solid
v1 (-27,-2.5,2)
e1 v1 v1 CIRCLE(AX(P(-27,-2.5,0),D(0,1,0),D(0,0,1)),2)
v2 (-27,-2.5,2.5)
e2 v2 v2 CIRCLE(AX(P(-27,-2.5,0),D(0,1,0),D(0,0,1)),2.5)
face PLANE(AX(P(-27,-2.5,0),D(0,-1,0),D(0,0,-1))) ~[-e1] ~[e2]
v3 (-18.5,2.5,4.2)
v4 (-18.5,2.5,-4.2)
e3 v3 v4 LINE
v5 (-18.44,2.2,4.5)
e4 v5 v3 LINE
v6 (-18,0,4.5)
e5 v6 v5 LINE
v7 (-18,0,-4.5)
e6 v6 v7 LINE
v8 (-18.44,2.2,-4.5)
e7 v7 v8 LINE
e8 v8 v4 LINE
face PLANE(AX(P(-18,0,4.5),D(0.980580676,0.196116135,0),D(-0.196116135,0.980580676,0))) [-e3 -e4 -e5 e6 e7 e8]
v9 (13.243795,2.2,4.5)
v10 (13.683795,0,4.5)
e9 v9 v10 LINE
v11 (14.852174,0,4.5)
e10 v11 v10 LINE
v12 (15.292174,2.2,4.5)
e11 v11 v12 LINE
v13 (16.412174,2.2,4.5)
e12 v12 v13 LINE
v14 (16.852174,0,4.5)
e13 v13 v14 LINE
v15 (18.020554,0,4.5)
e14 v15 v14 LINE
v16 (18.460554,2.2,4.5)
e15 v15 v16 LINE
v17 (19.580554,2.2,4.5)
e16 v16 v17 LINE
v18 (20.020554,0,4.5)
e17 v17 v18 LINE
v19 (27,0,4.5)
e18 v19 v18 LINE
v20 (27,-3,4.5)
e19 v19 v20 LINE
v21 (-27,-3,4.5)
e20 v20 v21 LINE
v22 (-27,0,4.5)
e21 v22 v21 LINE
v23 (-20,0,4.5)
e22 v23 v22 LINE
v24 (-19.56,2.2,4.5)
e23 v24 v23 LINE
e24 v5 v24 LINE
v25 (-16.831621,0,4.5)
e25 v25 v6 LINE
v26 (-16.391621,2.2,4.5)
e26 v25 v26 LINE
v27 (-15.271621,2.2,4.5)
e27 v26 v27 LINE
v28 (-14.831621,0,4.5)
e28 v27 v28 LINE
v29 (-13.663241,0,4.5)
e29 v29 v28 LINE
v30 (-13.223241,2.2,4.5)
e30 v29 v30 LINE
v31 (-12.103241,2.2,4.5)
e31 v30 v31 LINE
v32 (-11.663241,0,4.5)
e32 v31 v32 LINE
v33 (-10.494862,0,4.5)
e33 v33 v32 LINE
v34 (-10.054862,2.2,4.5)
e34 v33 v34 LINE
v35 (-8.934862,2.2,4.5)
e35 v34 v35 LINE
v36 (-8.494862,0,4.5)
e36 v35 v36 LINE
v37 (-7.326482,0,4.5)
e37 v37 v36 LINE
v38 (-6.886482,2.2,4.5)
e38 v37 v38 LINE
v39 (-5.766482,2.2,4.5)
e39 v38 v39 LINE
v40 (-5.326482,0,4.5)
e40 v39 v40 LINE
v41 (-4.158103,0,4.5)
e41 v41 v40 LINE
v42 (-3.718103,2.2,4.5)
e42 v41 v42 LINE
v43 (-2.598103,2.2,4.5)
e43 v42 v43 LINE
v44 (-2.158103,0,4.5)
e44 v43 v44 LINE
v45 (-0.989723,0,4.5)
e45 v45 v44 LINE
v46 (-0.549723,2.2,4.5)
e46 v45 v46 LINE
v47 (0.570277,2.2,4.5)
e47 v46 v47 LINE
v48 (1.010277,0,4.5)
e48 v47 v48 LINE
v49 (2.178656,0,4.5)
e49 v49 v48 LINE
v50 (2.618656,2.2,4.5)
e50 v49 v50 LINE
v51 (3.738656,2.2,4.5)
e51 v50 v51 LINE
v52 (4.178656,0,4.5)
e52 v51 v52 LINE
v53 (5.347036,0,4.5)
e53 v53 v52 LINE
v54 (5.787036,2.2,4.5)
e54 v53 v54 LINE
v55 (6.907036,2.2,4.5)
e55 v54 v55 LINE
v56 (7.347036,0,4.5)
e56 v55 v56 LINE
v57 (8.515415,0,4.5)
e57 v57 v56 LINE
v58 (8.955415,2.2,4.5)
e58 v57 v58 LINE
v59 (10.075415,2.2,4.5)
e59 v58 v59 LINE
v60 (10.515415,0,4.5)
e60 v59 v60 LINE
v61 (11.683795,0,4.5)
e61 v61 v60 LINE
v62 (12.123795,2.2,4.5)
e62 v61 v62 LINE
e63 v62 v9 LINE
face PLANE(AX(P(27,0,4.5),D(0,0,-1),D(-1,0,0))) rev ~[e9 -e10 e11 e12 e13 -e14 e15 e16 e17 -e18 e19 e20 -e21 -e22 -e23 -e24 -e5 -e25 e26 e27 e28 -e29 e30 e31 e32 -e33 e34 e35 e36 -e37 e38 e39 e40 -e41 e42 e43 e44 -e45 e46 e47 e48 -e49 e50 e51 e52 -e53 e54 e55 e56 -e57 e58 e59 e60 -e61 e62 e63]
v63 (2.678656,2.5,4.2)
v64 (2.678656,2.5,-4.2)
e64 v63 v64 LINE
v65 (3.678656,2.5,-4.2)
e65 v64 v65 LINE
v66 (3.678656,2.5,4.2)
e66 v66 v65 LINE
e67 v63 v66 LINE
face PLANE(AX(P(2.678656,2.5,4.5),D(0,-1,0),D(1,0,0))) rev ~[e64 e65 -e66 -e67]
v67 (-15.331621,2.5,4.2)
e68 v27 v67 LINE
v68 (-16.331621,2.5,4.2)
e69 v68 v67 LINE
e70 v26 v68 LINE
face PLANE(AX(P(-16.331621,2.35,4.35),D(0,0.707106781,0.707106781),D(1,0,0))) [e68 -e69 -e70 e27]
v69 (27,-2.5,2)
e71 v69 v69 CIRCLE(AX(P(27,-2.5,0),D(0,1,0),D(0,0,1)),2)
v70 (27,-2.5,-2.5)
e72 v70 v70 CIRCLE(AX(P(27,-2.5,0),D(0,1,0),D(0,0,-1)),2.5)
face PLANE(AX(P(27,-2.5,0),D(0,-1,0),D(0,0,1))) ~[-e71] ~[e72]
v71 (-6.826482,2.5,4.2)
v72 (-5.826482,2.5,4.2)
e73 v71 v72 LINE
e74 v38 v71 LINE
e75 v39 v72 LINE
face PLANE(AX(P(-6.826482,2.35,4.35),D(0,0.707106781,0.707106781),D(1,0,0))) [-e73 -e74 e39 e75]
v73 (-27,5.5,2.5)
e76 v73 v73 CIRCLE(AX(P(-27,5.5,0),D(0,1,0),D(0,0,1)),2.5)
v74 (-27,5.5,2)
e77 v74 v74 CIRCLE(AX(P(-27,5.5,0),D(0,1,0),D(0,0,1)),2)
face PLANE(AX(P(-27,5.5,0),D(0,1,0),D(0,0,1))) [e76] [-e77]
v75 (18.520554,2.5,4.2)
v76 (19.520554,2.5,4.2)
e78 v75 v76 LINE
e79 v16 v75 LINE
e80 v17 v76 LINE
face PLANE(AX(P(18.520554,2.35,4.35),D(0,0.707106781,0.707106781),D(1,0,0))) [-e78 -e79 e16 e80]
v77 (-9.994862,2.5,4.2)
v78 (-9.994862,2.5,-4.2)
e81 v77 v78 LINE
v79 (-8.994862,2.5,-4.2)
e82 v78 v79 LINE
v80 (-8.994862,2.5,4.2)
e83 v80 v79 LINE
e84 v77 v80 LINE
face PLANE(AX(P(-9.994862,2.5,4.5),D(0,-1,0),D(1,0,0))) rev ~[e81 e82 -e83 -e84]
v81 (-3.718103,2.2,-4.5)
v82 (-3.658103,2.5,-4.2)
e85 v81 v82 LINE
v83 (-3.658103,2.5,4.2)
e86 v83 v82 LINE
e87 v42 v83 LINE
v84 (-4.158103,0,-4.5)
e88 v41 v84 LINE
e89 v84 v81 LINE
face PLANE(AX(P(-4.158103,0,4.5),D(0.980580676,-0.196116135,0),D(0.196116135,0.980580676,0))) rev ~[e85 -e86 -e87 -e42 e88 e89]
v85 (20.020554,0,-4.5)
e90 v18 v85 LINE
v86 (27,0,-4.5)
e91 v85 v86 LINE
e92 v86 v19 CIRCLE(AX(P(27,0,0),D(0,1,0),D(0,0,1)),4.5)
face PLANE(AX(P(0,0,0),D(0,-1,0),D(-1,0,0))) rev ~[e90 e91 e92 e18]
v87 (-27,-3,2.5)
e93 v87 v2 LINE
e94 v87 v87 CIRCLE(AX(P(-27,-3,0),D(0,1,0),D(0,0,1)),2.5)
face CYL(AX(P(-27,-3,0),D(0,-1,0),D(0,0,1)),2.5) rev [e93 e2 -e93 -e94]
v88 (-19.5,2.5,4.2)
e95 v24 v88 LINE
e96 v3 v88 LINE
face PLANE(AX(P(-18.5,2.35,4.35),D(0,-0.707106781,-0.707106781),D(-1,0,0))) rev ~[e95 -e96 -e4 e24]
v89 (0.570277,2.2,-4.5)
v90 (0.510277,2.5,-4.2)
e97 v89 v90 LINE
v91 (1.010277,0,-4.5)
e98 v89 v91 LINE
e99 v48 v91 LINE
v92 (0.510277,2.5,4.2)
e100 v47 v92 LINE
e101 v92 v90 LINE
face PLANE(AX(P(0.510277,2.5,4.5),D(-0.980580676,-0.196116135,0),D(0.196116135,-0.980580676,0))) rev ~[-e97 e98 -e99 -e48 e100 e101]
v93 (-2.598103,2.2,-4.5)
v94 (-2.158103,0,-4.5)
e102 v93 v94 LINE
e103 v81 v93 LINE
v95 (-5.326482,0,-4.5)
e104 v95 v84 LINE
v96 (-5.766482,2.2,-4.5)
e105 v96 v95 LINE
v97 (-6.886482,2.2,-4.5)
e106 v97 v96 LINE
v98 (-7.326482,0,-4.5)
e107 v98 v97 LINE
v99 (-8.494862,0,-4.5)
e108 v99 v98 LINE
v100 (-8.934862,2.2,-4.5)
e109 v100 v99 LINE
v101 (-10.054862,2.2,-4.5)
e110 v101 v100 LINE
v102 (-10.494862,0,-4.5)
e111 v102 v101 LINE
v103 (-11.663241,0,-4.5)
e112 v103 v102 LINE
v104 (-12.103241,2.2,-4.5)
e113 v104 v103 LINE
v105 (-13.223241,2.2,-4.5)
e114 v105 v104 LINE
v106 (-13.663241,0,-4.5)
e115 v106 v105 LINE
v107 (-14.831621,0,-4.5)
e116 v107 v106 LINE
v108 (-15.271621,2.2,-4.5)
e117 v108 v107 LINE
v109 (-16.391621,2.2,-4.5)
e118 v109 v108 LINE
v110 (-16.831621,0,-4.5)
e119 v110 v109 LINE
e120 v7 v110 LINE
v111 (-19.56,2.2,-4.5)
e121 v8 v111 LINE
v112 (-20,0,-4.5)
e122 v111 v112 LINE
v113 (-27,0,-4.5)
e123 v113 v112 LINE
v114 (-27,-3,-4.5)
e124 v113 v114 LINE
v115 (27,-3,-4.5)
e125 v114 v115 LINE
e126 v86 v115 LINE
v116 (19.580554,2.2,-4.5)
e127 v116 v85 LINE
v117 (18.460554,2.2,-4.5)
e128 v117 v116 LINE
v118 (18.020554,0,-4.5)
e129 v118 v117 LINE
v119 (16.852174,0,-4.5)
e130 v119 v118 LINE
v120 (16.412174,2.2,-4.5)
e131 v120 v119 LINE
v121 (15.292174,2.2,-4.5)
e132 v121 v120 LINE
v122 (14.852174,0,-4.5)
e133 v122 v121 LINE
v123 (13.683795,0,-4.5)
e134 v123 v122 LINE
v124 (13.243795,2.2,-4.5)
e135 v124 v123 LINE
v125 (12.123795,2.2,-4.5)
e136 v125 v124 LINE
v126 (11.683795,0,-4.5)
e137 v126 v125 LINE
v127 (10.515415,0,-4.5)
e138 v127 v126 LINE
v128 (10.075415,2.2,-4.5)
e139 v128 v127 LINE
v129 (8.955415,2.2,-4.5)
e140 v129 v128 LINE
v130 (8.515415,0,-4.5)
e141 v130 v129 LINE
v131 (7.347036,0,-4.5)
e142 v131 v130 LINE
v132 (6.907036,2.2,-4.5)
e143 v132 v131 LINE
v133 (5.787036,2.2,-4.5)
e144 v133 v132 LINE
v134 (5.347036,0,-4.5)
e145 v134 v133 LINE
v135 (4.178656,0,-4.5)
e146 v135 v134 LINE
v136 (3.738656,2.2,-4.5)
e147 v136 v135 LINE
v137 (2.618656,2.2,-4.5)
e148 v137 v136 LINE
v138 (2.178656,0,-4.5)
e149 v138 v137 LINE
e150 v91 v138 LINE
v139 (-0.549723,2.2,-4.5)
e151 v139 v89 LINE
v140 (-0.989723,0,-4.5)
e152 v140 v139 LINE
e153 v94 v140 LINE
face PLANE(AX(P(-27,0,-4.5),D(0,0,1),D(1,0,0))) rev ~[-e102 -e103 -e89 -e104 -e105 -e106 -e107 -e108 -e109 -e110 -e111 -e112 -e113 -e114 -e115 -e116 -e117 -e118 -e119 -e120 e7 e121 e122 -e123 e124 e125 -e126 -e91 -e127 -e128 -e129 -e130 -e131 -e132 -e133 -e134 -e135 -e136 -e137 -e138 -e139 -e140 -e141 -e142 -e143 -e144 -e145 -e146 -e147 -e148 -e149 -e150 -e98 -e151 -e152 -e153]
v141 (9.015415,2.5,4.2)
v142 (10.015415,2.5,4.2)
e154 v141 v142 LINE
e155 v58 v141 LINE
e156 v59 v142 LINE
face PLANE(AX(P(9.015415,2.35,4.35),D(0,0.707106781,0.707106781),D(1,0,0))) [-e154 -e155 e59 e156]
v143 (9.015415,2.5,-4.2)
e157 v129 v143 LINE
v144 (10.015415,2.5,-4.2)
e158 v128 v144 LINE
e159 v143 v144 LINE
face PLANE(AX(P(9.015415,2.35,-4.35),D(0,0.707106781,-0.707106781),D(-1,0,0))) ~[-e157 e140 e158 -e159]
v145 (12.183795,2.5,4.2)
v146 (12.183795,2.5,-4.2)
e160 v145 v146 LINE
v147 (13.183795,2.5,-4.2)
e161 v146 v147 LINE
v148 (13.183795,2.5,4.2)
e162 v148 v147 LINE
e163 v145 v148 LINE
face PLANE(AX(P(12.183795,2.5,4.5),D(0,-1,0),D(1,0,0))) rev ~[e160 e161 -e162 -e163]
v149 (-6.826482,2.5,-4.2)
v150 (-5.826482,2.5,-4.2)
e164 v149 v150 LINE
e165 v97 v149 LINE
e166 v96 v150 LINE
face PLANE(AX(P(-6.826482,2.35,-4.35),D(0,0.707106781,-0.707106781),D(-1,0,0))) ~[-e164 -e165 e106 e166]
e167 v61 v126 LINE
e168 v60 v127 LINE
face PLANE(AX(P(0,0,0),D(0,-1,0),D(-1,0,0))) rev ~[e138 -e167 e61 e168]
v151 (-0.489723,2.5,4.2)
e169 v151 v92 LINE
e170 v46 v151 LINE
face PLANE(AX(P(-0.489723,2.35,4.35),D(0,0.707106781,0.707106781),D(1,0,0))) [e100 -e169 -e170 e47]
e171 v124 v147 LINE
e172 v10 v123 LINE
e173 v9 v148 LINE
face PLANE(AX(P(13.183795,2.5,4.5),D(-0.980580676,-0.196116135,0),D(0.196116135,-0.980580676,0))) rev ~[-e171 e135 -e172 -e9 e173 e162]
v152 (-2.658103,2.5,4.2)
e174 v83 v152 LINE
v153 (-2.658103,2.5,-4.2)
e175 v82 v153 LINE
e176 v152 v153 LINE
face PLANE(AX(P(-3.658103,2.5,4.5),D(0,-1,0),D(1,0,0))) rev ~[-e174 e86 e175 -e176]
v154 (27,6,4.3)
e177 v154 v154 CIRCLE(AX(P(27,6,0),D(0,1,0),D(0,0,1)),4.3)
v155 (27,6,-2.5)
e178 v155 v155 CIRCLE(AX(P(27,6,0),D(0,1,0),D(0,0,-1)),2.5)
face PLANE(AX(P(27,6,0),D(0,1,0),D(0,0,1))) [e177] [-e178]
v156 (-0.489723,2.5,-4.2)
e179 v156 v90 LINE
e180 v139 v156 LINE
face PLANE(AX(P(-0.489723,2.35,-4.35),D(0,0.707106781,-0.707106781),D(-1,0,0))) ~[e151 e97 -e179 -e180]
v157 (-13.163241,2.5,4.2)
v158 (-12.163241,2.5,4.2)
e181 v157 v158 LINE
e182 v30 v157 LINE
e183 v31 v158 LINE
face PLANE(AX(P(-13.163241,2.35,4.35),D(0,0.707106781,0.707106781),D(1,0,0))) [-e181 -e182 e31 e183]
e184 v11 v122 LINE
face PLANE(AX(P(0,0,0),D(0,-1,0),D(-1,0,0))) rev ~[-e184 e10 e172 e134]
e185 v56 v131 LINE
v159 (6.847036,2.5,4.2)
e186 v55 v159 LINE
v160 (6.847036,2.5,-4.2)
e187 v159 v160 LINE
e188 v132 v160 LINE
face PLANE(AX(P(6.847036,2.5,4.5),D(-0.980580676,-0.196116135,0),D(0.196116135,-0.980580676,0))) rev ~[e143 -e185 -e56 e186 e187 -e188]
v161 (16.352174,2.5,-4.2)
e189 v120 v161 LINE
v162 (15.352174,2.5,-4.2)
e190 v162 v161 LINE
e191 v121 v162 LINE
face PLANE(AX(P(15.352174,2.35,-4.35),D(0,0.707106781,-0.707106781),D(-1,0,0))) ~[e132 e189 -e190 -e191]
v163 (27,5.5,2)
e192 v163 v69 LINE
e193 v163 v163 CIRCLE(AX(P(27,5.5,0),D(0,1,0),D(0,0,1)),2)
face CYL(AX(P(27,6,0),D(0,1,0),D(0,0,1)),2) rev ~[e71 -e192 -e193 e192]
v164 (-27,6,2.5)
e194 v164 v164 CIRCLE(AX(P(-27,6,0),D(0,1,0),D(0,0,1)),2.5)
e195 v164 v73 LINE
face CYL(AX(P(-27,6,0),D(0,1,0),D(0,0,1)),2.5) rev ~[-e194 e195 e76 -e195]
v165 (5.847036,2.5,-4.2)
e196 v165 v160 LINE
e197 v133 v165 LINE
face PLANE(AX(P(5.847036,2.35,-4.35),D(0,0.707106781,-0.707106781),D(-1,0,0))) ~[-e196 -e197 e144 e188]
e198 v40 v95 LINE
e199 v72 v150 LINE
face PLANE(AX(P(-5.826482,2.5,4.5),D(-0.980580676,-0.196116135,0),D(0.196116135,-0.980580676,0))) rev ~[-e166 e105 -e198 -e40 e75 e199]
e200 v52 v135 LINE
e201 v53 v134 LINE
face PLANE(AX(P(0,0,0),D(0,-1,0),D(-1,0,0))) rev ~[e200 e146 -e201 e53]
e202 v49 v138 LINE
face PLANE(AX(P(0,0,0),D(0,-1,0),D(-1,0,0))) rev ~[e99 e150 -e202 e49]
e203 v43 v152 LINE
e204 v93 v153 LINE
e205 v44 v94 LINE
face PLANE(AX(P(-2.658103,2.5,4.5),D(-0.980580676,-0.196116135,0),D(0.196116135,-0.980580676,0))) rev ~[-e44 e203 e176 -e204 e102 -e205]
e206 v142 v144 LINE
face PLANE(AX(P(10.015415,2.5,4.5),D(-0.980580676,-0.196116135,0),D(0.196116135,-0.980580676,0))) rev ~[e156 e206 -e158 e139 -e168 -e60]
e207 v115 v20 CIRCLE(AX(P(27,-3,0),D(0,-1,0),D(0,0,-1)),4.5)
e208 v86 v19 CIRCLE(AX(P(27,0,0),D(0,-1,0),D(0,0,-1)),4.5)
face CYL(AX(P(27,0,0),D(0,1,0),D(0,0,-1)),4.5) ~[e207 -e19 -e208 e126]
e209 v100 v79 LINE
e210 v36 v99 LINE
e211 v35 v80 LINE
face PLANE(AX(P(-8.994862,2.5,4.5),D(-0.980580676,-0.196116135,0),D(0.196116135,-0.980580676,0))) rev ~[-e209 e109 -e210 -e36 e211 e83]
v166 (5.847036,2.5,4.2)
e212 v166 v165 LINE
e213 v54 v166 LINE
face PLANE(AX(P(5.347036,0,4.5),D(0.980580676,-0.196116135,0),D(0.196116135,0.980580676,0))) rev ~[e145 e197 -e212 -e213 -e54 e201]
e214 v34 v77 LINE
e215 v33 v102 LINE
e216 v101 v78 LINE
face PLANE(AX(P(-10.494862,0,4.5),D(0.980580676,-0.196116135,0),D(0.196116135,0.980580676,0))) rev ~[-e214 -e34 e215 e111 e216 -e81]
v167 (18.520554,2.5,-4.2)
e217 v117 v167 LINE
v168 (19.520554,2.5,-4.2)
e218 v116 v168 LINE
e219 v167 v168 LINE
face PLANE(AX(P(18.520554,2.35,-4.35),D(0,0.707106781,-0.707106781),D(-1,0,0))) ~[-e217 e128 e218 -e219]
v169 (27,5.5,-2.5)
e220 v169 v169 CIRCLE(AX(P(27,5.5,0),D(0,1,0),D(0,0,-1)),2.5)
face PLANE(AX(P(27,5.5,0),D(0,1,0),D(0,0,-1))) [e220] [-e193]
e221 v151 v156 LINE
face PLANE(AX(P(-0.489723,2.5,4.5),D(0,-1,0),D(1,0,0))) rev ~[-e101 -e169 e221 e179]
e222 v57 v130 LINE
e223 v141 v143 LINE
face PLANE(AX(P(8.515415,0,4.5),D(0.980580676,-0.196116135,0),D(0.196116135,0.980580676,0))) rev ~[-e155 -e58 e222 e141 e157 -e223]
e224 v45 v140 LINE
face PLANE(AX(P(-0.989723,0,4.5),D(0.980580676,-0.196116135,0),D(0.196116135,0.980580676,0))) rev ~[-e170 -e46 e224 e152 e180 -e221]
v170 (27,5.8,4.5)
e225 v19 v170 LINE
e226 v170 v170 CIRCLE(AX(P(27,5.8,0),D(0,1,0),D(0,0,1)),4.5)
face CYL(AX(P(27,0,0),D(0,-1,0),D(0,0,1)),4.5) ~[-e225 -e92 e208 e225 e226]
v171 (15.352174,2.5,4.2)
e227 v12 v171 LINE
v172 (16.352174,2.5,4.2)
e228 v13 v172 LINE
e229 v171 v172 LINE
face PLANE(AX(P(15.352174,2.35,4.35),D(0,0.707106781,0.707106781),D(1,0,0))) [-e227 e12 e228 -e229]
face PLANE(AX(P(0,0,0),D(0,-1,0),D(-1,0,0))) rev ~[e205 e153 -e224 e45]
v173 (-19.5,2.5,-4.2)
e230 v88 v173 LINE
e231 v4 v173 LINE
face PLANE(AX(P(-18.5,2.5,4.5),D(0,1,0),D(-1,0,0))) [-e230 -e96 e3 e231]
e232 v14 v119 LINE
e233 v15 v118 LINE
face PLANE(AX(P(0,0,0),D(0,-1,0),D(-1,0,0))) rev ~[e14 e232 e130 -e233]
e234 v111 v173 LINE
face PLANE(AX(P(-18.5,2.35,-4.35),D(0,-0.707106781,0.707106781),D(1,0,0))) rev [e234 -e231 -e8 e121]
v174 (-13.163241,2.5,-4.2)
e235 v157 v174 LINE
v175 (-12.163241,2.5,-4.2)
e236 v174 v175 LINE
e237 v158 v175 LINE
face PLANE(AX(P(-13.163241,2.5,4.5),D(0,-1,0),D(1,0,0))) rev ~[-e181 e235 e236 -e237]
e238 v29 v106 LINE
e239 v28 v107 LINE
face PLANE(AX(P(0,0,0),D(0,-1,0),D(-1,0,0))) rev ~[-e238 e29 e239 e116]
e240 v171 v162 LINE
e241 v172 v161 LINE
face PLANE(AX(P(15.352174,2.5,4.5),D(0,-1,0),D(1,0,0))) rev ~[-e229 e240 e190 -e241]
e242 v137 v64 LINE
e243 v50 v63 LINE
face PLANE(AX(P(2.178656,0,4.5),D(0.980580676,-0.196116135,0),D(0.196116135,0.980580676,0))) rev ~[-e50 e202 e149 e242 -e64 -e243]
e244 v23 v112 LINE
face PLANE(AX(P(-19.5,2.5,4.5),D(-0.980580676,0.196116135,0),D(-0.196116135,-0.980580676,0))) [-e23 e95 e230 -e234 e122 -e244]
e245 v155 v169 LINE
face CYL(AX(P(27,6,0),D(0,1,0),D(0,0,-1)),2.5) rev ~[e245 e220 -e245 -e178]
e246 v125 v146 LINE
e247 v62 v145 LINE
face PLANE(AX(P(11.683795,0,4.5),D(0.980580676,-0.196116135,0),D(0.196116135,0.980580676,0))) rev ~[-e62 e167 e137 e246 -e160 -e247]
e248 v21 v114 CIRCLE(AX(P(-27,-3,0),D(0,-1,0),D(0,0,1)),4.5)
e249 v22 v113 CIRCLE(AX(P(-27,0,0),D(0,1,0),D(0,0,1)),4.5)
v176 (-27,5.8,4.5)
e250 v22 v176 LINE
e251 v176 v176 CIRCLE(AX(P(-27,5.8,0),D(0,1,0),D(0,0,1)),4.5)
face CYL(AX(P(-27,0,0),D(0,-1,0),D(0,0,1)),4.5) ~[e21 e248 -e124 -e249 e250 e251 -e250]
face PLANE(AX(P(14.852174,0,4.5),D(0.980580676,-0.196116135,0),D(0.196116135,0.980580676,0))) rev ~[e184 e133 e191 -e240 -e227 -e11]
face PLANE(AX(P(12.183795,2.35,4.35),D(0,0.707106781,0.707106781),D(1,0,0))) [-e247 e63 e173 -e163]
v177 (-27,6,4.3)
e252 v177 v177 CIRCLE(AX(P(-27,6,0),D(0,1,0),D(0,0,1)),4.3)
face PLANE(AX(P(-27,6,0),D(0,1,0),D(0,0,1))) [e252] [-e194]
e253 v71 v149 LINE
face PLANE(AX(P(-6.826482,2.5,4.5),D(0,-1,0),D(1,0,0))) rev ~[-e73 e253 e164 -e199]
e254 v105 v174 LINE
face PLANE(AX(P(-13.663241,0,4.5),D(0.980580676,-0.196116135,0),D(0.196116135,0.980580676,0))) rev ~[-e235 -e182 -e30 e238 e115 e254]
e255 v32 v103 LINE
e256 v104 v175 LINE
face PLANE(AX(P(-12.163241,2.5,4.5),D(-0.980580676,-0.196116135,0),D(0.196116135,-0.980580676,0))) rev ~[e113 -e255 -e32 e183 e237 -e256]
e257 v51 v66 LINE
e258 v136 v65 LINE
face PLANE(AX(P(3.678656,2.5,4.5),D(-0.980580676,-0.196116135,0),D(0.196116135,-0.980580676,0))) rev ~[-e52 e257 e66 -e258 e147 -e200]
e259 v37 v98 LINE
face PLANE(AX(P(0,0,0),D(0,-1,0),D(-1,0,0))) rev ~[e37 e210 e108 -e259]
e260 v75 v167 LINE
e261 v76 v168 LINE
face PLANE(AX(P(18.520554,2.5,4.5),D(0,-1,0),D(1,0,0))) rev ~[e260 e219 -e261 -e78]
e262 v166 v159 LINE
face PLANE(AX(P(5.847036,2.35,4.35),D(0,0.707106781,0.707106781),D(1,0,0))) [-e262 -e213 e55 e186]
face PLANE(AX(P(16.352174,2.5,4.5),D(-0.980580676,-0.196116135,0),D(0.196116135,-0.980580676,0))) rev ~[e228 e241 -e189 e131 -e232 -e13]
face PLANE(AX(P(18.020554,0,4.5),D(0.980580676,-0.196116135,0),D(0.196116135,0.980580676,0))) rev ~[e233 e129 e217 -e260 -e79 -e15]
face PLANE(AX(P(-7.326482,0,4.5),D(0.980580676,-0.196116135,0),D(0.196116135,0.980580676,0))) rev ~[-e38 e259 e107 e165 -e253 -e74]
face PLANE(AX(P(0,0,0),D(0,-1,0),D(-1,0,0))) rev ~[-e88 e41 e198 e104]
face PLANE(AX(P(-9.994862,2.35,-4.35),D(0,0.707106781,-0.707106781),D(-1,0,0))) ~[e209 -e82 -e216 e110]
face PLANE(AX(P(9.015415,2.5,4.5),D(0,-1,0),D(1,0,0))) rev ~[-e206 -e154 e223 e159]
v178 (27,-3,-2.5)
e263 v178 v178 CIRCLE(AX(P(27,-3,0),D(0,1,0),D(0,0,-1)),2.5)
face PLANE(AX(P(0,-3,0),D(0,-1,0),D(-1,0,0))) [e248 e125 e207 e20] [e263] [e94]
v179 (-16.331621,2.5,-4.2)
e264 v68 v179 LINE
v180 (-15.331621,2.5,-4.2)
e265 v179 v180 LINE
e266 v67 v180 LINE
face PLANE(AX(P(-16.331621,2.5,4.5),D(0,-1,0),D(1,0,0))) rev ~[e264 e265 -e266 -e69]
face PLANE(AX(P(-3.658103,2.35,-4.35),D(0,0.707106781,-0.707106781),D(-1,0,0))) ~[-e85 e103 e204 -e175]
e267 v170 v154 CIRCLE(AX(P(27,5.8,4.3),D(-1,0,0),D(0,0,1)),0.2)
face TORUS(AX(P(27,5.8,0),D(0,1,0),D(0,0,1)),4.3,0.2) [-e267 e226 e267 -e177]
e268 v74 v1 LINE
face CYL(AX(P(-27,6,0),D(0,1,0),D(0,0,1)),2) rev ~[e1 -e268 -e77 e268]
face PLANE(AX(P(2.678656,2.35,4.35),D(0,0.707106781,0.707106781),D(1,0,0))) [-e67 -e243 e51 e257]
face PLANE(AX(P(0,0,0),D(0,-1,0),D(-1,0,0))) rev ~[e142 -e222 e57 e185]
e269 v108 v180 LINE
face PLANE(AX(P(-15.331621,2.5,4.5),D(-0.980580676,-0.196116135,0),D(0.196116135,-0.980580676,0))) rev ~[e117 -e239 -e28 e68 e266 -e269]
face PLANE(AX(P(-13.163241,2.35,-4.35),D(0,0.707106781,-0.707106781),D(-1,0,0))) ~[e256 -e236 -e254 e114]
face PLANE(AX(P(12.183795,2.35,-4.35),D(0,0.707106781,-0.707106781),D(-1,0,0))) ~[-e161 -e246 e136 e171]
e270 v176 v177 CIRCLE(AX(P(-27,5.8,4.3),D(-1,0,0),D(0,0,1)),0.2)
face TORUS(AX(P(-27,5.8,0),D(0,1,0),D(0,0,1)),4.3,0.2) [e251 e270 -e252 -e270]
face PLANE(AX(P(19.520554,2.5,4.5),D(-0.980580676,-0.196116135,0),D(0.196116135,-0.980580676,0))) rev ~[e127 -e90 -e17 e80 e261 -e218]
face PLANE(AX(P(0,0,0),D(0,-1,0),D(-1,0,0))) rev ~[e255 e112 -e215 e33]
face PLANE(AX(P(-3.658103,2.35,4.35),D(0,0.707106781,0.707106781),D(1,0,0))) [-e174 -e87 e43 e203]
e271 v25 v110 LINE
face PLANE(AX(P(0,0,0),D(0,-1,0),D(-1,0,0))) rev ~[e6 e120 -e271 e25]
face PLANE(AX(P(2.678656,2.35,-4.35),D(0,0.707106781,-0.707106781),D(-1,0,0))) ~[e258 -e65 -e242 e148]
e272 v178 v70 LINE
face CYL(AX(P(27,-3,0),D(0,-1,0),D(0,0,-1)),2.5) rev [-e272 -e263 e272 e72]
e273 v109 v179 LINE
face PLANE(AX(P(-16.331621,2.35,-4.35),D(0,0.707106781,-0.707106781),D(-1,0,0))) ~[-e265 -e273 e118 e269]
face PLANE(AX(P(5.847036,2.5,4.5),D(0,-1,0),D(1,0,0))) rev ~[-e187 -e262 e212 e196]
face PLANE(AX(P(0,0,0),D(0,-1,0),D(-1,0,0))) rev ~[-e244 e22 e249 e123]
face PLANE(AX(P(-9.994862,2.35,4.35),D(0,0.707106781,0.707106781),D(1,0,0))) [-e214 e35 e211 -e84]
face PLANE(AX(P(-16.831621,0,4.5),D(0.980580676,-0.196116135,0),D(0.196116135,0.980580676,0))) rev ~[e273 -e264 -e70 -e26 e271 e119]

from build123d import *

# Parameters (mm, degrees)
BOSS_EXTRUDE1_DEPTH = 3
SKETCH2_R           = 4.5
BOSS_EXTRUDE2_DEPTH = 6
CUT_EXTRUDE1_REACH  = 35.068
SKETCH3_R           = 2
SKETCH4_R           = 2.5
CUT_EXTRUDE2_DEPTH  = 0.5
BOSS_EXTRUDE4_DEPTH = 9
CHAMFER1_SIZE       = 0.3
FILLET1_R           = 0.2


with BuildPart() as part:
    # Sketch1 → Boss-Extrude1 (new body)
    with BuildSketch(Plane(origin=(0, 0, 0), x_dir=(1, 0, 0), z_dir=(0, 1, 0))):
        with BuildLine():
            Line((-27, 4.5), (27, 4.5))
            ThreePointArc((27, 4.5), (31.5, 0), (27, -4.5))
            Line((27, -4.5), (-27, -4.5))
            ThreePointArc((-27, -4.5), (-31.5, 0), (-27, 4.5))
        make_face()
    extrude(amount=-BOSS_EXTRUDE1_DEPTH)

    # Sketch2 → Boss-Extrude2 (add)
    with BuildSketch(Plane(origin=(0, 0, 0), x_dir=(1, 0, 0), z_dir=(0, 1, 0))):
        with Locations(Location((-27, 0, 0), (0, 0, 270))):
            Circle(SKETCH2_R)
        with Locations(Location((27, 0, 0), (0, 0, 270))):
            Circle(SKETCH2_R)
    extrude(amount=BOSS_EXTRUDE2_DEPTH)

    # Sketch3 → Cut-Extrude1 (cut, up to next)
    with BuildSketch(Plane(origin=(0, 6, 0), x_dir=(1, 0, 0), z_dir=(0, 1, 0)), mode=Mode.PRIVATE) as cut_extrude1_sk1:
        with Locations(Location((-27, 0, 0), (0, 0, 270))):
            Circle(SKETCH3_R)
    cut_extrude1_tool1 = extrude(cut_extrude1_sk1.sketch, amount=-CUT_EXTRUDE1_REACH, mode=Mode.PRIVATE) & part.part
    # Sketch3 → Cut-Extrude1 (cut, up to next)
    with BuildSketch(Plane(origin=(0, 6, 0), x_dir=(1, 0, 0), z_dir=(0, 1, 0)), mode=Mode.PRIVATE) as cut_extrude1_sk2:
        with Locations(Location((27, 0, 0), (0, 0, 270))):
            Circle(SKETCH3_R)
    cut_extrude1_tool2 = extrude(cut_extrude1_sk2.sketch, amount=-CUT_EXTRUDE1_REACH, mode=Mode.PRIVATE) & part.part
    add(cut_extrude1_tool1.solids().sort_by_distance((-27, 6, 0))[0], mode=Mode.SUBTRACT)
    add(cut_extrude1_tool2.solids().sort_by_distance((27, 6, 0))[0], mode=Mode.SUBTRACT)

    # Sketch4 → Cut-Extrude2 (cut)
    with BuildSketch(Plane(origin=(0, 6, 0), x_dir=(1, 0, 0), z_dir=(0, 1, 0))):
        with Locations(Location((-27, 0, 0), (0, 0, 270))):
            Circle(SKETCH4_R)
        with Locations(Location((27, 0, 0), (0, 0, 90))):
            Circle(SKETCH4_R)
    cut_extrude2 = extrude(amount=-CUT_EXTRUDE2_DEPTH, mode=Mode.SUBTRACT)

    # Mirror1: Cut-Extrude2 across plane
    add(cut_extrude2.mirror(Plane(origin=(0, 1.5, 0), x_dir=(0, 0, 1), z_dir=(0, -1, 0))), mode=Mode.SUBTRACT)

    # Sketch21 → Boss-Extrude4 (add)
    with BuildSketch(Plane.XY.offset(4.5)):
        Polygon((-20, 0), (-18, 0), (-18.5, 2.5), (-19.5, 2.5), align=None)
        Polygon((-16.831620529, 0), (-16.331620529, 2.5), (-15.331620529, 2.5), (-14.831620529, 0), align=None)
        Polygon((-13.663241058, 0), (-13.163241058, 2.5), (-12.163241058, 2.5), (-11.663241058, 0), align=None)
        Polygon((-10.494861587, 0), (-9.994861587, 2.5), (-8.994861587, 2.5), (-8.494861587, 0), align=None)
        Polygon((-7.326482116, 0), (-6.826482116, 2.5), (-5.826482116, 2.5), (-5.326482116, 0), align=None)
        Polygon((-4.158102645, 0), (-3.658102645, 2.5), (-2.658102645, 2.5), (-2.158102645, 0), align=None)
        Polygon((-0.989723174, 0), (-0.489723174, 2.5), (0.510276826, 2.5), (1.010276826, 0), align=None)
        Polygon((2.178656297, 0), (2.678656297, 2.5), (3.678656297, 2.5), (4.178656297, 0), align=None)
        Polygon((5.347035768, 0), (5.847035768, 2.5), (6.847035768, 2.5), (7.347035768, 0), align=None)
        Polygon((8.515415239, 0), (9.015415239, 2.5), (10.015415239, 2.5), (10.515415239, 0), align=None)
        Polygon((11.68379471, 0), (12.18379471, 2.5), (13.18379471, 2.5), (13.68379471, 0), align=None)
        Polygon((14.852174181, 0), (15.352174181, 2.5), (16.352174181, 2.5), (16.852174181, 0), align=None)
        Polygon((18.020553652, 0), (18.520553652, 2.5), (19.520553652, 2.5), (20.020553652, 0), align=None)
    extrude(amount=-BOSS_EXTRUDE4_DEPTH)

    # Chamfer1
    chamfer1_edges = [part.edges().sort_by_distance(p)[0] for p in [
        (-6.326482116, 2.5, 4.5),
        (-6.326482116, 2.5, -4.5),
        (-3.158102645, 2.5, 4.5),
        (-3.158102645, 2.5, -4.5),
        (0.010276826, 2.5, 4.5),
        (0.010276826, 2.5, -4.5),
        (3.178656297, 2.5, 4.5),
        (3.178656297, 2.5, -4.5),
        (6.347035768, 2.5, 4.5),
        (6.347035768, 2.5, -4.5),
        (9.515415239, 2.5, 4.5),
        (9.515415239, 2.5, -4.5),
        (12.68379471, 2.5, 4.5),
        (12.68379471, 2.5, -4.5),
        (15.852174181, 2.5, 4.5),
        (15.852174181, 2.5, -4.5),
        (19.020553652, 2.5, 4.5),
        (19.020553652, 2.5, -4.5),
        (-19, 2.5, 4.5),
        (-19, 2.5, -4.5),
        (-15.831620529, 2.5, 4.5),
        (-15.831620529, 2.5, -4.5),
        (-12.663241058, 2.5, 4.5),
        (-12.663241058, 2.5, -4.5),
        (-9.494861587, 2.5, 4.5),
        (-9.494861587, 2.5, -4.5),
    ]]
    chamfer(chamfer1_edges, length=CHAMFER1_SIZE)

    # Fillet1
    fillet1_edges = [part.edges().sort_by_distance(p)[0] for p in [
        (-27, 6, -4.5),
        (27, 6, -4.5),
    ]]
    fillet(fillet1_edges, radius=FILLET1_R)


solid = part.part
